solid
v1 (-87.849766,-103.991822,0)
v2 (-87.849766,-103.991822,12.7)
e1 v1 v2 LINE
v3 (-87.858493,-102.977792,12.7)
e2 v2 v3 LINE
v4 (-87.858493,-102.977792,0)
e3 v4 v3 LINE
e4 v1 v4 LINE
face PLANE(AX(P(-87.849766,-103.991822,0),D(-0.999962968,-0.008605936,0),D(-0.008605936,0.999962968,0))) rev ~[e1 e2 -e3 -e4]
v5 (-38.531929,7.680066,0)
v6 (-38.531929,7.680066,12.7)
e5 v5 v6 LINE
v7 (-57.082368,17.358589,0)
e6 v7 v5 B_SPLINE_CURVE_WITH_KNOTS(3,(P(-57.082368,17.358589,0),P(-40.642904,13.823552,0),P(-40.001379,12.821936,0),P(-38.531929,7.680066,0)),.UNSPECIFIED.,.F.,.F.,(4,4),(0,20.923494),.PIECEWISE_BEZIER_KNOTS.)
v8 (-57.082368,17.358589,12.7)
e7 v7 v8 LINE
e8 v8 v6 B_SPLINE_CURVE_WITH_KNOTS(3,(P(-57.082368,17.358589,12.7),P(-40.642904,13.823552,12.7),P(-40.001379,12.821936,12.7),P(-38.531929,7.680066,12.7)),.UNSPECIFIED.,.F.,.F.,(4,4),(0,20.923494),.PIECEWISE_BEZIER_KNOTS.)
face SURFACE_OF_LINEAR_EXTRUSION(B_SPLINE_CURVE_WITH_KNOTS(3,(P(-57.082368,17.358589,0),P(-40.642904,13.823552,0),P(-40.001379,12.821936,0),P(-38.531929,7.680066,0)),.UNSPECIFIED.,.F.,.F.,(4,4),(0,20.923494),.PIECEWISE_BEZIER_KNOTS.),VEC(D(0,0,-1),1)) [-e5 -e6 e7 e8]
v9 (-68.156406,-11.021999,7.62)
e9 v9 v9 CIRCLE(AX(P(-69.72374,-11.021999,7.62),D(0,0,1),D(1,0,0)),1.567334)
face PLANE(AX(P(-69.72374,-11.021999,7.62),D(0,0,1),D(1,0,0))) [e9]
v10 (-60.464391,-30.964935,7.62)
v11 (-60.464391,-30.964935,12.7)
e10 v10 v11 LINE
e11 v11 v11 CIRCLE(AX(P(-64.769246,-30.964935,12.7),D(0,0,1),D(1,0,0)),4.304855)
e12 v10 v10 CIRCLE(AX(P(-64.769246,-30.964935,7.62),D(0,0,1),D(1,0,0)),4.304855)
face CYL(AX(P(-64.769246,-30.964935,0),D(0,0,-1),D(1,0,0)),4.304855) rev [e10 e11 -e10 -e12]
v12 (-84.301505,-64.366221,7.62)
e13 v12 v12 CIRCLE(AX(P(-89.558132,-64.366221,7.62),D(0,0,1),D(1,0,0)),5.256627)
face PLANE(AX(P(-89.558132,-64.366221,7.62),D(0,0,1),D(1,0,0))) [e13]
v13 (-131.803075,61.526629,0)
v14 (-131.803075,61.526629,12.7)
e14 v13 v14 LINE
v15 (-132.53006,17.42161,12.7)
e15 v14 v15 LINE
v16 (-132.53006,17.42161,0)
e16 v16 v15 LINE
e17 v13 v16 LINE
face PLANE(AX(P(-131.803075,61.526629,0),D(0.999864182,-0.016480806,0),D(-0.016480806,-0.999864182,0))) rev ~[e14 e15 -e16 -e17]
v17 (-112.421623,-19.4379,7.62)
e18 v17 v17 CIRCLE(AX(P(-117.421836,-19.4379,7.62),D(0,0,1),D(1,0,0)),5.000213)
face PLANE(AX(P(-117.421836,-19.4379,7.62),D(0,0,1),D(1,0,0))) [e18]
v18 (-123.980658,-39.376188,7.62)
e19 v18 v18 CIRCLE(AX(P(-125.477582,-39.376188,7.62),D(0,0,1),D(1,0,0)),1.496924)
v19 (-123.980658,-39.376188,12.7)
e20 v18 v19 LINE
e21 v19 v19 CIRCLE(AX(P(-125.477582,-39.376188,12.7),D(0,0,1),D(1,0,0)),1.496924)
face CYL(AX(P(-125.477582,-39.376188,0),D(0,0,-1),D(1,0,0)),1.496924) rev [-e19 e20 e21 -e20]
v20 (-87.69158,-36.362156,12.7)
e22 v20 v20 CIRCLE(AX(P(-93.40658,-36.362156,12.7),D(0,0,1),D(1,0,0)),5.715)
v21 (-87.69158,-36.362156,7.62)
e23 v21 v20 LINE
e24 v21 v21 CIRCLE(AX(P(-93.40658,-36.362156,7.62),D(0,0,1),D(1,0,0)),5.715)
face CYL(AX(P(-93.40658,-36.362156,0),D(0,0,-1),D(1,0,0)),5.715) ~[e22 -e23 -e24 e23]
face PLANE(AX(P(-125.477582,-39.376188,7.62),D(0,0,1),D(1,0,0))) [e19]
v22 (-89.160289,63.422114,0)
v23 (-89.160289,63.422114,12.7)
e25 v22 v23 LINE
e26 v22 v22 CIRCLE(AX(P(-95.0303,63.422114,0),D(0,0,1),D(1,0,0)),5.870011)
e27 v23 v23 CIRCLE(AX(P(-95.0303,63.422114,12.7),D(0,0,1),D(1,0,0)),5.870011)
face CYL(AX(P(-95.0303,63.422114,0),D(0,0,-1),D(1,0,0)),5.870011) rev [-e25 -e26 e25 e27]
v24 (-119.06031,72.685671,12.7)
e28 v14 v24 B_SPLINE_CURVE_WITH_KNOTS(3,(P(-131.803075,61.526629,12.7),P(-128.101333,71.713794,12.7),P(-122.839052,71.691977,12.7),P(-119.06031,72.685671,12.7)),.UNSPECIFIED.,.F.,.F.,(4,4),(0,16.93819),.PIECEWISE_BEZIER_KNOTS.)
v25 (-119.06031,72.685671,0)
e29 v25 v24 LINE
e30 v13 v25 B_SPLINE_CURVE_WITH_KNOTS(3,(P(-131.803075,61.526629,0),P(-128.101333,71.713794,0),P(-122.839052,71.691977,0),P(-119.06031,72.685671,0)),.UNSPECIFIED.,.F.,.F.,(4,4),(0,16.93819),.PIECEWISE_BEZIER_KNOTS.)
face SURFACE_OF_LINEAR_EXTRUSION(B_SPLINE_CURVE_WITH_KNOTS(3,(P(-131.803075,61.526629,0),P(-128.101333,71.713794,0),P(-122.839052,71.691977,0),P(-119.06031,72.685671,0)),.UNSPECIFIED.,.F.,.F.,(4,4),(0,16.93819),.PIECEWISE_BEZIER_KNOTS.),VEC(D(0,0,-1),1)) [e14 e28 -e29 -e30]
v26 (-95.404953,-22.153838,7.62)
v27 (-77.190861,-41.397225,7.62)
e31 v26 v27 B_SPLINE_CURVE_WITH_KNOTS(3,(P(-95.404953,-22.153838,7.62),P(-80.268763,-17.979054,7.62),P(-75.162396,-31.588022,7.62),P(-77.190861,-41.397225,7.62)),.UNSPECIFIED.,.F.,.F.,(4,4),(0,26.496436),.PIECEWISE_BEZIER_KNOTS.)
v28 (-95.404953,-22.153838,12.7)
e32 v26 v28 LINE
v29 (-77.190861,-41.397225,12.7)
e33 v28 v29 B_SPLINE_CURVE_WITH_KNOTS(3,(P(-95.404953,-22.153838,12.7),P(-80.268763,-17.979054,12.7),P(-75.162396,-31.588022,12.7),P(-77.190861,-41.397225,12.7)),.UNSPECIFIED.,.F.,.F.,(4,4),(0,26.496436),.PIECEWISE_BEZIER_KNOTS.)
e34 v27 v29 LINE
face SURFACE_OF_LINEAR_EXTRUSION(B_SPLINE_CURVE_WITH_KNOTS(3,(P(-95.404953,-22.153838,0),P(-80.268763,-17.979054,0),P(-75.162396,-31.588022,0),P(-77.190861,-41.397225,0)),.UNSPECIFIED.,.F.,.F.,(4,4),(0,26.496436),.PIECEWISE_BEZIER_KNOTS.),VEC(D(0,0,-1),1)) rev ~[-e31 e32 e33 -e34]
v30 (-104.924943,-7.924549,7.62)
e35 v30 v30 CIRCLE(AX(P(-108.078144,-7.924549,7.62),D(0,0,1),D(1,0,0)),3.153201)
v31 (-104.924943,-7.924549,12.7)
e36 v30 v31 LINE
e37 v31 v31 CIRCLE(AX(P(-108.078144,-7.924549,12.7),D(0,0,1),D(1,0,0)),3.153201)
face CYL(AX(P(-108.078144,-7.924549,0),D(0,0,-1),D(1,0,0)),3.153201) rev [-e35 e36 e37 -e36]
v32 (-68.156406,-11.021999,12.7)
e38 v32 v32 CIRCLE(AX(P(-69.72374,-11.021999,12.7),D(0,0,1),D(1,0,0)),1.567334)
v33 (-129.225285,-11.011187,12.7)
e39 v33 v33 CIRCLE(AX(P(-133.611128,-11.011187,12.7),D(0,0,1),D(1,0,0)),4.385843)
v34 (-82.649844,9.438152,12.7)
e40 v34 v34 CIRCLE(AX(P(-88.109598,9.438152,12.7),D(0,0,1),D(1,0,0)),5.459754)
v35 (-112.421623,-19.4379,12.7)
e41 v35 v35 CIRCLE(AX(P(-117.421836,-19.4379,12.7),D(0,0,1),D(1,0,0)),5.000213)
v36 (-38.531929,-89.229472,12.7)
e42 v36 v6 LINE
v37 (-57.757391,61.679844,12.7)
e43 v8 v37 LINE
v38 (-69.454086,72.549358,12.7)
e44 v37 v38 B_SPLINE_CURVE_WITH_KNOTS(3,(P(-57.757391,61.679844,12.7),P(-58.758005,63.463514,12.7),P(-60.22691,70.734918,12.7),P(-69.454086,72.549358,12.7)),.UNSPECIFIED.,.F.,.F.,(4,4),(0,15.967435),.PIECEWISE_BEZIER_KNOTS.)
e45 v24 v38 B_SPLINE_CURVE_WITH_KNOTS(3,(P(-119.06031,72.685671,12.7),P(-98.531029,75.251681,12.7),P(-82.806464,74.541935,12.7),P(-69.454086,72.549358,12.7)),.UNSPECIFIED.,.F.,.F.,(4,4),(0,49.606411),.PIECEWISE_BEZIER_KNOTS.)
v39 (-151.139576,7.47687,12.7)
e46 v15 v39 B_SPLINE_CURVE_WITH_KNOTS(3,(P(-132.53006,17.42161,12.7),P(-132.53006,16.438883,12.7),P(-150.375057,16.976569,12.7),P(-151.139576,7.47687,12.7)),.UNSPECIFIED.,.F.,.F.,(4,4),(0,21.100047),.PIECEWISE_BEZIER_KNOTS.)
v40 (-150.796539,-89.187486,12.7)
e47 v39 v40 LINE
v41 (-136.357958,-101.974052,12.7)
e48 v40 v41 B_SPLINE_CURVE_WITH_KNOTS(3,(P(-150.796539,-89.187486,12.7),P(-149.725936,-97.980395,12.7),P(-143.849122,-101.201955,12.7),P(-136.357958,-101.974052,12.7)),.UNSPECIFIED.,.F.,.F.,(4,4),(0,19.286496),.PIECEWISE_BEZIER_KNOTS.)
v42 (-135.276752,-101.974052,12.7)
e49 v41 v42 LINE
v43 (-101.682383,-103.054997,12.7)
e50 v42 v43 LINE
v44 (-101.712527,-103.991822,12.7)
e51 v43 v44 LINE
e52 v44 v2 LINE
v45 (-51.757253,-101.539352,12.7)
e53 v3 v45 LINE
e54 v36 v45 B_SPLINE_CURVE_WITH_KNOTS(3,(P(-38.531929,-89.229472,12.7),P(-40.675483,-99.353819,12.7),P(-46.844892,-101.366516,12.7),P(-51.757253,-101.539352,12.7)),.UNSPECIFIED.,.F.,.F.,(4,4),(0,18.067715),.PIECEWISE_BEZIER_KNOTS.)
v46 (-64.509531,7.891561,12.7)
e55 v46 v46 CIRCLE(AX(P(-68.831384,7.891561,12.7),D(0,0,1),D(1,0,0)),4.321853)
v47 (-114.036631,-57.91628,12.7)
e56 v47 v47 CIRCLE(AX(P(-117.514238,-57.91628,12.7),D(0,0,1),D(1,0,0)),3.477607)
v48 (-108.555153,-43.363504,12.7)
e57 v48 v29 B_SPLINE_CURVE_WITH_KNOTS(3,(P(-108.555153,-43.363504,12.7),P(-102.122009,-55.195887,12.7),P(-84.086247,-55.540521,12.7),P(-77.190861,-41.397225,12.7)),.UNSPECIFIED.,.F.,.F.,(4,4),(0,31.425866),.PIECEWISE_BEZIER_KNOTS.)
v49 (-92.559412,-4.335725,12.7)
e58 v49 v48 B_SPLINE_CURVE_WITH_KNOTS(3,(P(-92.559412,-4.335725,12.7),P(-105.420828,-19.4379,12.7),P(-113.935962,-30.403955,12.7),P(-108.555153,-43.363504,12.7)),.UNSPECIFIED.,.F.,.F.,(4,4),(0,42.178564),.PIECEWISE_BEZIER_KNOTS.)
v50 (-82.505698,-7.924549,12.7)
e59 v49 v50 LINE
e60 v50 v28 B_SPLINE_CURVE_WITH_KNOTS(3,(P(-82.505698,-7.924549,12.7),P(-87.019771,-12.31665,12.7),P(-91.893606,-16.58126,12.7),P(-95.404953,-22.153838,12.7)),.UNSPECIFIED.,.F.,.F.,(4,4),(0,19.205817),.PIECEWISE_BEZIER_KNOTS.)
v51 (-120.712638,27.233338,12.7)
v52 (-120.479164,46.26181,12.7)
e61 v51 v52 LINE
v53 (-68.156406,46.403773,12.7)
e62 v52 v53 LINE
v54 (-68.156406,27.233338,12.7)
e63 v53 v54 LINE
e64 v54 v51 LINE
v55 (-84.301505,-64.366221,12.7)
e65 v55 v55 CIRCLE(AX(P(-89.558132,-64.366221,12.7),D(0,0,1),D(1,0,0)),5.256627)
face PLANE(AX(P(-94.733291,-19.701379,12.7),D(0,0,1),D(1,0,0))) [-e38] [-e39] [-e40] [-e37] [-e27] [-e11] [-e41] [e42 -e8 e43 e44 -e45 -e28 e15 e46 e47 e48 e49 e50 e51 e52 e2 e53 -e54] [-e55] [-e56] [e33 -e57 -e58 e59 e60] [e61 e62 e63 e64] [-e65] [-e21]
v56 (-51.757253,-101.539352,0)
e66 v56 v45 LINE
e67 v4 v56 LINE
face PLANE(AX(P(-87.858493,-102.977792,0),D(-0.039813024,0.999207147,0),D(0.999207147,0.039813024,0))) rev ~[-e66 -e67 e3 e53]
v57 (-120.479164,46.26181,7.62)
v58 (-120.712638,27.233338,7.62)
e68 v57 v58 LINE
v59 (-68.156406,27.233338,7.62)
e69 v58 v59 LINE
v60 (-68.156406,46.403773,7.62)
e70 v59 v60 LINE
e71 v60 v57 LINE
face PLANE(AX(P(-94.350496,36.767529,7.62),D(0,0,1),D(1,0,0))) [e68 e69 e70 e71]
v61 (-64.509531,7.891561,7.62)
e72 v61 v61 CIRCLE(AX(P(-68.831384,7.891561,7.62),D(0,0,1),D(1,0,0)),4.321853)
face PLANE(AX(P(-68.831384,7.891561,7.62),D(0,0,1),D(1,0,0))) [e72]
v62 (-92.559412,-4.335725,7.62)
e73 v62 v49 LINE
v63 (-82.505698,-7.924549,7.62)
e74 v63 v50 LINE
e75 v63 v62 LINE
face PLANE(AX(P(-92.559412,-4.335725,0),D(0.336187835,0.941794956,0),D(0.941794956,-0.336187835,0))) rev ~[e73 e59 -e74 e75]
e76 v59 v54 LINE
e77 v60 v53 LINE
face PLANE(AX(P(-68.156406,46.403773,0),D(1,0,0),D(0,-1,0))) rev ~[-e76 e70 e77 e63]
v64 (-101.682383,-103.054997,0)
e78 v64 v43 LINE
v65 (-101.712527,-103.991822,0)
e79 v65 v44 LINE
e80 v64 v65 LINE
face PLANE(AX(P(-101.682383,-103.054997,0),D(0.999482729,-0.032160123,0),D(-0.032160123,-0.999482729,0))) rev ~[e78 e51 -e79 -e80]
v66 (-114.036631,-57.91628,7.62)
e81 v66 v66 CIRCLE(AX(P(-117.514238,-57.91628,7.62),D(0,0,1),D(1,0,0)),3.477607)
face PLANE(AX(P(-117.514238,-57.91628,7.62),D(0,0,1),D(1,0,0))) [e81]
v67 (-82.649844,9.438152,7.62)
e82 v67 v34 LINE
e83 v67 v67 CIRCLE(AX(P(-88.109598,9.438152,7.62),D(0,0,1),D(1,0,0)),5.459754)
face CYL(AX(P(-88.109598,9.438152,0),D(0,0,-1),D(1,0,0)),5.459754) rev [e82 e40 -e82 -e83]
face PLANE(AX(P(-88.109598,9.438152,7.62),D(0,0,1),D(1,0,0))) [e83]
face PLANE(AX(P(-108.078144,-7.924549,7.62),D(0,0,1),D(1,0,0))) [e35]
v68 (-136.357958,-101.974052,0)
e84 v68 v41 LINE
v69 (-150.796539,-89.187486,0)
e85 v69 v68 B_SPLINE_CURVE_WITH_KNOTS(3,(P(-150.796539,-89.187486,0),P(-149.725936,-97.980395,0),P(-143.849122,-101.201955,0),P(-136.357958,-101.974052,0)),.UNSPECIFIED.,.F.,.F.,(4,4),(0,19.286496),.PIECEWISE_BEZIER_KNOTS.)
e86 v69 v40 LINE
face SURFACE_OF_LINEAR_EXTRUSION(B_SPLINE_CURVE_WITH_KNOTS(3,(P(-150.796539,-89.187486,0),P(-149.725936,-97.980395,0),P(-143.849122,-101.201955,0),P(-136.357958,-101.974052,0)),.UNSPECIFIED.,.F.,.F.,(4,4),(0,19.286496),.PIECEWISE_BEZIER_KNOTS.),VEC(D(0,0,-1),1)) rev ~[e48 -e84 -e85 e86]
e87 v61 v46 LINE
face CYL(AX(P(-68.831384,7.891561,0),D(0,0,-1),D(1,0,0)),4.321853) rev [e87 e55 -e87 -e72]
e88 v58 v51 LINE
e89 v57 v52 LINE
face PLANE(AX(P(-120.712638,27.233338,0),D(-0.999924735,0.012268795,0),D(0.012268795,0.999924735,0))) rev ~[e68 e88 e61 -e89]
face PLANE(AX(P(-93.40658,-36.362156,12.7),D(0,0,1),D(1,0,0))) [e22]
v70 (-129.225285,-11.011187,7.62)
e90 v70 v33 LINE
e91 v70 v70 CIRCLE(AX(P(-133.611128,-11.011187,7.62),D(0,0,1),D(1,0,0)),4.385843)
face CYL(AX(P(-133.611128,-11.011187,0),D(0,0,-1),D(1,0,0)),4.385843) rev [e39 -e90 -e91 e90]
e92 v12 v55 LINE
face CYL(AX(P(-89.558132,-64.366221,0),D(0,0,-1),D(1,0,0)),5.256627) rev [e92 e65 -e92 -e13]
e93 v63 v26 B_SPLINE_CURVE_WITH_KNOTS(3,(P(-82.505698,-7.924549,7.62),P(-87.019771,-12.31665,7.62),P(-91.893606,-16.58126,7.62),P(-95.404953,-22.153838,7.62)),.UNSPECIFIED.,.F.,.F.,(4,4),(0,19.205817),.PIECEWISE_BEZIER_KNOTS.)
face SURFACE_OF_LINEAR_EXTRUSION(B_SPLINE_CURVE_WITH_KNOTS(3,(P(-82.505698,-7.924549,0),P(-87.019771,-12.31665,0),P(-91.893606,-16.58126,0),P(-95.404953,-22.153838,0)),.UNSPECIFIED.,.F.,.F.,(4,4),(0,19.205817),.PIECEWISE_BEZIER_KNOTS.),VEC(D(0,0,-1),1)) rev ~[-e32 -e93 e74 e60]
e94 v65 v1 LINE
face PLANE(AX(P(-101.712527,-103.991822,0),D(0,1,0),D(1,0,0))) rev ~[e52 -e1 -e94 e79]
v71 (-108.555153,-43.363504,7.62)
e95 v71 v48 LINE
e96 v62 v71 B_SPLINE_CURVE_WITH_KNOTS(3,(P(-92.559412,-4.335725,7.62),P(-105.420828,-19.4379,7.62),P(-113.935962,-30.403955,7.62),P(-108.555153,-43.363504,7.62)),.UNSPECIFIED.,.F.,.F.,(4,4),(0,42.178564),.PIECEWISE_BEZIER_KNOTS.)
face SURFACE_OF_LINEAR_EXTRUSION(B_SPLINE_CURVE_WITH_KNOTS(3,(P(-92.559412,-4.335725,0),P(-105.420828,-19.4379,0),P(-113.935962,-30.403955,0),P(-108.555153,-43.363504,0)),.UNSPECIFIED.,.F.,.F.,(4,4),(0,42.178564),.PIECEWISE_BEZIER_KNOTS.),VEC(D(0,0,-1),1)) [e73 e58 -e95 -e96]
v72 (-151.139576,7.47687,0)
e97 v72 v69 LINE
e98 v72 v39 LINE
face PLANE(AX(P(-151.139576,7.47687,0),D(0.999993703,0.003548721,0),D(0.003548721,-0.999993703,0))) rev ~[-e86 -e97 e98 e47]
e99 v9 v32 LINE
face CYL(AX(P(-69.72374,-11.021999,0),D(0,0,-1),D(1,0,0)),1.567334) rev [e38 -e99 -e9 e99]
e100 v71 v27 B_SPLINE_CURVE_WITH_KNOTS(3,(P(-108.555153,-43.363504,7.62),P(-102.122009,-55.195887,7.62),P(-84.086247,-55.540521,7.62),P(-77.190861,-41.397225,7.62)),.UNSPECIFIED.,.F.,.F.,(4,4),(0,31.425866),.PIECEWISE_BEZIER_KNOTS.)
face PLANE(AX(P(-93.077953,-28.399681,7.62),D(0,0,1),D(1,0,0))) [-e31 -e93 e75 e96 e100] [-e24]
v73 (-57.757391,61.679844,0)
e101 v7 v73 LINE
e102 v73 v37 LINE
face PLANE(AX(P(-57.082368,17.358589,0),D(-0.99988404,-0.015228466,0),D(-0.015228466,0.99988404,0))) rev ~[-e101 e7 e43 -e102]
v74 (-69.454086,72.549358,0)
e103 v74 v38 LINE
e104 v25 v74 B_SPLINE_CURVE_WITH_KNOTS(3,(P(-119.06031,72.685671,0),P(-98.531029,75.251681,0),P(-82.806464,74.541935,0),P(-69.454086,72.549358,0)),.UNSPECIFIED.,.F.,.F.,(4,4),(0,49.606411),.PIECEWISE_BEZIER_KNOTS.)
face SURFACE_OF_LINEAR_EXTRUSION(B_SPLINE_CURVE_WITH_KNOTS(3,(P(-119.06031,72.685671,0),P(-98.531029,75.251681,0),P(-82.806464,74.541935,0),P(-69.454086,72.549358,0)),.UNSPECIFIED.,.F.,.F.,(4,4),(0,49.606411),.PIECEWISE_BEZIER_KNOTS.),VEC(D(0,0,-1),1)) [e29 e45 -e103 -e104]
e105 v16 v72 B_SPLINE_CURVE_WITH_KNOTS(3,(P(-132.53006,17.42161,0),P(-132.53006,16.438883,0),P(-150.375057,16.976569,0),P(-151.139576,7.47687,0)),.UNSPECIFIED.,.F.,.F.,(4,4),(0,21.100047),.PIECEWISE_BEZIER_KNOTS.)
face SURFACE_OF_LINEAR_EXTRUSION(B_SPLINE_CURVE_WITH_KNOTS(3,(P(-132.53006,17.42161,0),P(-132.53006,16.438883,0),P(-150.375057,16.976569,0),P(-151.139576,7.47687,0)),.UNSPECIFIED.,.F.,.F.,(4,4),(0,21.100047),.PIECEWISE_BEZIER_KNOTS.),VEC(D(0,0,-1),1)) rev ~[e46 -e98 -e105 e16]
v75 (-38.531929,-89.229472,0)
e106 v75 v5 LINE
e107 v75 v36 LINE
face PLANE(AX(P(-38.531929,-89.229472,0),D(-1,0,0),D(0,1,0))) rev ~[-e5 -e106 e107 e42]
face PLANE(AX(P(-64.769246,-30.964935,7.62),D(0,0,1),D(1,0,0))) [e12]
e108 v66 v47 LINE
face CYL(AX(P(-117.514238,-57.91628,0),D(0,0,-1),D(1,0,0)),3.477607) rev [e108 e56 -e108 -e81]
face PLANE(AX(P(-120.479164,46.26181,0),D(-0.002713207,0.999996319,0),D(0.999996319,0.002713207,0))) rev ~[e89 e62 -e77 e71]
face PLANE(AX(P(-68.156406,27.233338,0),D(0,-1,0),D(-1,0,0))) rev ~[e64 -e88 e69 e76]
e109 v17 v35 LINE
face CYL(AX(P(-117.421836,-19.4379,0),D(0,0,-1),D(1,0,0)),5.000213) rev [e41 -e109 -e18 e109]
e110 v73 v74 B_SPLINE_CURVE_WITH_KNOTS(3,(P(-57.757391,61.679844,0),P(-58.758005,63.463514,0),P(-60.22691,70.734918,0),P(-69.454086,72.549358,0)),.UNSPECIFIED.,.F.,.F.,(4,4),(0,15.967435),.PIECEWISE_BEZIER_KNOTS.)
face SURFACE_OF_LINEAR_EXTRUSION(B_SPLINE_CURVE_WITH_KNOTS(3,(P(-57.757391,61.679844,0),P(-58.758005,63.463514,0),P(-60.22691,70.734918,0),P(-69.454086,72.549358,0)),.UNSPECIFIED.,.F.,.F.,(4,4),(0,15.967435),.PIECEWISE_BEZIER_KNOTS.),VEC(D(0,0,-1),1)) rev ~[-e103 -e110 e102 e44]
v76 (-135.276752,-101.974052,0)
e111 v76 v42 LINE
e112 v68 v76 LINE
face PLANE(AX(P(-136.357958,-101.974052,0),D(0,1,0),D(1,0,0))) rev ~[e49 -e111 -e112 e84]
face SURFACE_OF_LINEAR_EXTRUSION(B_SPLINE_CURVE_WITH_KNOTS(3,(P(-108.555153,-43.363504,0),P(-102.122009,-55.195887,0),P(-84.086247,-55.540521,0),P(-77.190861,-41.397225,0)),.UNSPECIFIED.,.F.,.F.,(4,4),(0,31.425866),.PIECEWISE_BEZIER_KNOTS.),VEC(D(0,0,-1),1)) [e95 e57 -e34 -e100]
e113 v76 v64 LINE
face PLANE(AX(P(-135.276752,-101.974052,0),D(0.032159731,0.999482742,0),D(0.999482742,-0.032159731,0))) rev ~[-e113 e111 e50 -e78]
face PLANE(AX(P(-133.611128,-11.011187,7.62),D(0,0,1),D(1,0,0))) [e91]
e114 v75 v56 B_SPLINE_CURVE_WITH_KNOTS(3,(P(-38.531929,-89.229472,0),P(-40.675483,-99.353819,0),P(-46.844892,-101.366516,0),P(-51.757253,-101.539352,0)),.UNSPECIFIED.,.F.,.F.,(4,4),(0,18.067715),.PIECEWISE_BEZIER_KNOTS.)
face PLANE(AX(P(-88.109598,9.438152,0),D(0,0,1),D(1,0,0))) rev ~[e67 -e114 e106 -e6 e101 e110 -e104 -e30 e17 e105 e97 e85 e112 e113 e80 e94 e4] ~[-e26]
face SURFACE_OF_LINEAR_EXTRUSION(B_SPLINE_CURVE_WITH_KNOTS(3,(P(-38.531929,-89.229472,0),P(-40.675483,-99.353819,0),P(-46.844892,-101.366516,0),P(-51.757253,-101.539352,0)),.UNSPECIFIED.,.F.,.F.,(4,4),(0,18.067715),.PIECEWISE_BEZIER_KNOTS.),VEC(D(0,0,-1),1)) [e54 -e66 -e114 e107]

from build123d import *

# Parameters (mm, degrees)
F0_R     = 1.496924
F0_R_2   = 3.477607
F0_R_3   = 5.000213
F0_R_4   = 5.256627
F0_R_5   = 4.304855
F0_R_6   = 4.385843
F0_R_7   = 3.153201
F0_R_8   = 5.870011
F0_R_9   = 1.567334
F0_R_10  = 4.321853
F0_R_11  = 5.459754
F1_DEPTH = 12.7
F0_R_12  = 7.190762
F0_R_13  = 5.715
F2_DEPTH = 7.62
F3_DEPTH = 12.7


with BuildPart() as f1:
    # F0 (on Top) → F1 (new body)
    with BuildSketch(Plane.XY):
        with BuildLine():
            Line((-131.803075, 61.526629), (-132.53006, 17.42161))
            add(Edge.make_bspline(
                [(-132.53006, 17.42161), (-132.53006, 16.438883), (-150.375057, 16.976569), (-151.139576, 7.47687)],
                knots=[0, 0, 0, 0, 21.100047, 21.100047, 21.100047, 21.100047], degree=3))
            Line((-151.139576, 7.47687), (-150.796539, -89.187486))
            add(Edge.make_bspline(
                [(-150.796539, -89.187486), (-149.725936, -97.980395), (-143.849122, -101.201955), (-136.357958, -101.974052)],
                knots=[0, 0, 0, 0, 19.286496, 19.286496, 19.286496, 19.286496], degree=3))
            Line((-136.357958, -101.974052), (-135.276752, -101.974052))
            Line((-135.276752, -101.974052), (-101.682383, -103.054997))
            Line((-101.682383, -103.054997), (-101.712527, -103.991822))
            Line((-101.712527, -103.991822), (-87.849766, -103.991822))
            Line((-87.849766, -103.991822), (-87.858493, -102.977792))
            Line((-87.858493, -102.977792), (-51.757253, -101.539352))
            add(Edge.make_bspline(
                [(-38.531929, -89.229472), (-40.675483, -99.353819), (-46.844892, -101.366516), (-51.757253, -101.539352)],
                knots=[0, 0, 0, 0, 18.067715, 18.067715, 18.067715, 18.067715], degree=3))
            Line((-38.531929, -89.229472), (-38.531929, 7.680066))
            add(Edge.make_bspline(
                [(-57.082368, 17.358589), (-40.642904, 13.823552), (-40.001379, 12.821936), (-38.531929, 7.680066)],
                knots=[0, 0, 0, 0, 20.923494, 20.923494, 20.923494, 20.923494], degree=3))
            Line((-57.082368, 17.358589), (-57.757391, 61.679844))
            add(Edge.make_bspline(
                [(-57.757391, 61.679844), (-58.758005, 63.463514), (-60.22691, 70.734918), (-69.454086, 72.549358)],
                knots=[0, 0, 0, 0, 15.967435, 15.967435, 15.967435, 15.967435], degree=3))
            add(Edge.make_bspline(
                [(-119.06031, 72.685671), (-98.531029, 75.251681), (-82.806464, 74.541935), (-69.454086, 72.549358)],
                knots=[0, 0, 0, 0, 49.606411, 49.606411, 49.606411, 49.606411], degree=3))
            add(Edge.make_bspline(
                [(-131.803075, 61.526629), (-128.101333, 71.713794), (-122.839052, 71.691977), (-119.06031, 72.685671)],
                knots=[0, 0, 0, 0, 16.93819, 16.93819, 16.93819, 16.93819], degree=3))
        make_face()
        with Locations((-125.477582, -39.376188)):
            Circle(F0_R, mode=Mode.SUBTRACT)
        with Locations((-117.514238, -57.91628)):
            Circle(F0_R_2, mode=Mode.SUBTRACT)
        with Locations((-117.421836, -19.4379)):
            Circle(F0_R_3, mode=Mode.SUBTRACT)
        with BuildLine():
            add(Edge.make_bspline(
                [(-92.559412, -2.722392), (-99.928118, -11.216616), (-120.820127, -30.964935), (-108.078144, -47.028057)],
                knots=[0, 0, 0, 0, 46.944894, 46.944894, 46.944894, 46.944894], degree=3))
            Line((-92.559412, -2.722392), (-79.016782, -7.556637))
            add(Edge.make_bspline(
                [(-79.016782, -7.556637), (-83.614662, -11.021999), (-88.109598, -15.379434), (-91.712408, -19.805491)],
                knots=[0, 0, 0, 0, 17.64124, 17.64124, 17.64124, 17.64124], degree=3))
            add(Edge.make_bspline(
                [(-91.712408, -19.805491), (-71.812876, -19.32627), (-73.281839, -42.991612), (-78.178406, -46.745423)],
                knots=[0, 0, 0, 0, 30.148452, 30.148452, 30.148452, 30.148452], degree=3))
            add(Edge.make_bspline(
                [(-108.078144, -47.028057), (-100.131333, -56.782793), (-82.993366, -54.98749), (-78.178406, -46.745423)],
                knots=[0, 0, 0, 0, 29.901075, 29.901075, 29.901075, 29.901075], degree=3))
        make_face(mode=Mode.SUBTRACT)
        with Locations((-89.558132, -64.366221)):
            Circle(F0_R_4, mode=Mode.SUBTRACT)
        with Locations((-64.769246, -30.964935)):
            Circle(F0_R_5, mode=Mode.SUBTRACT)
        with Locations((-133.611128, -11.011187)):
            Circle(F0_R_6, mode=Mode.SUBTRACT)
        with Locations((-108.078144, -7.924549)):
            Circle(F0_R_7, mode=Mode.SUBTRACT)
        with Locations((-95.0303, 63.422114)):
            Circle(F0_R_8, mode=Mode.SUBTRACT)
        with Locations((-69.72374, -11.021999)):
            Circle(F0_R_9, mode=Mode.SUBTRACT)
        with Locations((-68.831384, 7.891561)):
            Circle(F0_R_10, mode=Mode.SUBTRACT)
        with Locations((-88.109598, 9.438152)):
            Circle(F0_R_11, mode=Mode.SUBTRACT)
        Polygon((-127.203408, 20.682184), (-127.325644, 52.755584), (-61.360919, 52.755584), (-61.360919, 20.682184), align=None, mode=Mode.SUBTRACT)
        with BuildLine():
            Line((-79.016782, -7.556637), (-92.559412, -2.722392))
            add(Edge.make_bspline(
                [(-92.559412, -2.722392), (-99.928118, -11.216616), (-120.820127, -30.964935), (-108.078144, -47.028057)],
                knots=[0, 0, 0, 0, 46.944894, 46.944894, 46.944894, 46.944894], degree=3))
            add(Edge.make_bspline(
                [(-108.078144, -47.028057), (-100.131333, -56.782793), (-82.993366, -54.98749), (-78.178406, -46.745423)],
                knots=[0, 0, 0, 0, 29.901075, 29.901075, 29.901075, 29.901075], degree=3))
            add(Edge.make_bspline(
                [(-91.712408, -19.805491), (-71.812876, -19.32627), (-73.281839, -42.991612), (-78.178406, -46.745423)],
                knots=[0, 0, 0, 0, 30.148452, 30.148452, 30.148452, 30.148452], degree=3))
            add(Edge.make_bspline(
                [(-79.016782, -7.556637), (-83.614662, -11.021999), (-88.109598, -15.379434), (-91.712408, -19.805491)],
                knots=[0, 0, 0, 0, 17.64124, 17.64124, 17.64124, 17.64124], degree=3))
        make_face()
        with BuildLine():
            add(Edge.make_bspline(
                [(-92.559412, -4.335725), (-105.420828, -19.4379), (-113.935962, -30.403955), (-108.555153, -43.363504)],
                knots=[0, 0, 0, 0, 42.178564, 42.178564, 42.178564, 42.178564], degree=3))
            Line((-92.559412, -4.335725), (-82.505698, -7.924549))
            add(Edge.make_bspline(
                [(-82.505698, -7.924549), (-87.019771, -12.31665), (-91.893606, -16.58126), (-95.404953, -22.153838)],
                knots=[0, 0, 0, 0, 19.205817, 19.205817, 19.205817, 19.205817], degree=3))
            add(Edge.make_bspline(
                [(-95.404953, -22.153838), (-80.268763, -17.979054), (-75.162396, -31.588022), (-77.190861, -41.397225)],
                knots=[0, 0, 0, 0, 26.496436, 26.496436, 26.496436, 26.496436], degree=3))
            add(Edge.make_bspline(
                [(-108.555153, -43.363504), (-102.122009, -55.195887), (-84.086247, -55.540521), (-77.190861, -41.397225)],
                knots=[0, 0, 0, 0, 31.425866, 31.425866, 31.425866, 31.425866], degree=3))
        make_face(mode=Mode.SUBTRACT)
        Polygon((-61.360919, 52.755584), (-127.325644, 52.755584), (-127.203408, 20.682184), (-61.360919, 20.682184), align=None)
        Polygon((-67.204248, 26.135962), (-121.871863, 26.135962), (-121.612164, 47.301807), (-67.204248, 47.301807), align=None, mode=Mode.SUBTRACT)
        Polygon((-121.612164, 47.301807), (-121.871863, 26.135962), (-67.204248, 26.135962), (-67.204248, 47.301807), align=None)
        Polygon((-68.156406, 27.233338), (-120.712638, 27.233338), (-120.479164, 46.26181), (-68.156406, 46.403773), align=None, mode=Mode.SUBTRACT)
    extrude(amount=F1_DEPTH)

    # F0 (on Top) → F2 (join)
    with BuildSketch(Plane.XY):
        with Locations((-88.109598, 9.438152)):
            Circle(F0_R_11)
        with Locations((-68.831384, 7.891561)):
            Circle(F0_R_10)
        with Locations((-69.72374, -11.021999)):
            Circle(F0_R_9)
        with Locations((-64.769246, -30.964935)):
            Circle(F0_R_5)
        with Locations((-108.078144, -7.924549)):
            Circle(F0_R_7)
        with Locations((-117.421836, -19.4379)):
            Circle(F0_R_3)
        with Locations((-133.611128, -11.011187)):
            Circle(F0_R_6)
        with Locations((-125.477582, -39.376188)):
            Circle(F0_R)
        with Locations((-117.514238, -57.91628)):
            Circle(F0_R_2)
        with Locations((-89.558132, -64.366221)):
            Circle(F0_R_4)
        with BuildLine():
            Line((-82.505698, -7.924549), (-92.559412, -4.335725))
            add(Edge.make_bspline(
                [(-92.559412, -4.335725), (-105.420828, -19.4379), (-113.935962, -30.403955), (-108.555153, -43.363504)],
                knots=[0, 0, 0, 0, 42.178564, 42.178564, 42.178564, 42.178564], degree=3))
            add(Edge.make_bspline(
                [(-108.555153, -43.363504), (-102.122009, -55.195887), (-84.086247, -55.540521), (-77.190861, -41.397225)],
                knots=[0, 0, 0, 0, 31.425866, 31.425866, 31.425866, 31.425866], degree=3))
            add(Edge.make_bspline(
                [(-95.404953, -22.153838), (-80.268763, -17.979054), (-75.162396, -31.588022), (-77.190861, -41.397225)],
                knots=[0, 0, 0, 0, 26.496436, 26.496436, 26.496436, 26.496436], degree=3))
            add(Edge.make_bspline(
                [(-82.505698, -7.924549), (-87.019771, -12.31665), (-91.893606, -16.58126), (-95.404953, -22.153838)],
                knots=[0, 0, 0, 0, 19.205817, 19.205817, 19.205817, 19.205817], degree=3))
        make_face()
        with Locations((-93.40658, -36.362156)):
            Circle(F0_R_12, mode=Mode.SUBTRACT)
        Polygon((-120.479164, 46.26181), (-120.712638, 27.233338), (-68.156406, 27.233338), (-68.156406, 46.403773), align=None)
        with Locations((-93.40658, -36.362156)):
            Circle(F0_R_13)
        with Locations((-93.40658, -36.362156)):
            Circle(F0_R_12)
        with Locations((-93.40658, -36.362156)):
            Circle(F0_R_13, mode=Mode.SUBTRACT)
    extrude(amount=F2_DEPTH)

    # F0 (on Top) → F3 (join)
    with BuildSketch(Plane.XY):
        with Locations((-93.40658, -36.362156)):
            Circle(F0_R_13)
    extrude(amount=F3_DEPTH)


solid = f1.part
